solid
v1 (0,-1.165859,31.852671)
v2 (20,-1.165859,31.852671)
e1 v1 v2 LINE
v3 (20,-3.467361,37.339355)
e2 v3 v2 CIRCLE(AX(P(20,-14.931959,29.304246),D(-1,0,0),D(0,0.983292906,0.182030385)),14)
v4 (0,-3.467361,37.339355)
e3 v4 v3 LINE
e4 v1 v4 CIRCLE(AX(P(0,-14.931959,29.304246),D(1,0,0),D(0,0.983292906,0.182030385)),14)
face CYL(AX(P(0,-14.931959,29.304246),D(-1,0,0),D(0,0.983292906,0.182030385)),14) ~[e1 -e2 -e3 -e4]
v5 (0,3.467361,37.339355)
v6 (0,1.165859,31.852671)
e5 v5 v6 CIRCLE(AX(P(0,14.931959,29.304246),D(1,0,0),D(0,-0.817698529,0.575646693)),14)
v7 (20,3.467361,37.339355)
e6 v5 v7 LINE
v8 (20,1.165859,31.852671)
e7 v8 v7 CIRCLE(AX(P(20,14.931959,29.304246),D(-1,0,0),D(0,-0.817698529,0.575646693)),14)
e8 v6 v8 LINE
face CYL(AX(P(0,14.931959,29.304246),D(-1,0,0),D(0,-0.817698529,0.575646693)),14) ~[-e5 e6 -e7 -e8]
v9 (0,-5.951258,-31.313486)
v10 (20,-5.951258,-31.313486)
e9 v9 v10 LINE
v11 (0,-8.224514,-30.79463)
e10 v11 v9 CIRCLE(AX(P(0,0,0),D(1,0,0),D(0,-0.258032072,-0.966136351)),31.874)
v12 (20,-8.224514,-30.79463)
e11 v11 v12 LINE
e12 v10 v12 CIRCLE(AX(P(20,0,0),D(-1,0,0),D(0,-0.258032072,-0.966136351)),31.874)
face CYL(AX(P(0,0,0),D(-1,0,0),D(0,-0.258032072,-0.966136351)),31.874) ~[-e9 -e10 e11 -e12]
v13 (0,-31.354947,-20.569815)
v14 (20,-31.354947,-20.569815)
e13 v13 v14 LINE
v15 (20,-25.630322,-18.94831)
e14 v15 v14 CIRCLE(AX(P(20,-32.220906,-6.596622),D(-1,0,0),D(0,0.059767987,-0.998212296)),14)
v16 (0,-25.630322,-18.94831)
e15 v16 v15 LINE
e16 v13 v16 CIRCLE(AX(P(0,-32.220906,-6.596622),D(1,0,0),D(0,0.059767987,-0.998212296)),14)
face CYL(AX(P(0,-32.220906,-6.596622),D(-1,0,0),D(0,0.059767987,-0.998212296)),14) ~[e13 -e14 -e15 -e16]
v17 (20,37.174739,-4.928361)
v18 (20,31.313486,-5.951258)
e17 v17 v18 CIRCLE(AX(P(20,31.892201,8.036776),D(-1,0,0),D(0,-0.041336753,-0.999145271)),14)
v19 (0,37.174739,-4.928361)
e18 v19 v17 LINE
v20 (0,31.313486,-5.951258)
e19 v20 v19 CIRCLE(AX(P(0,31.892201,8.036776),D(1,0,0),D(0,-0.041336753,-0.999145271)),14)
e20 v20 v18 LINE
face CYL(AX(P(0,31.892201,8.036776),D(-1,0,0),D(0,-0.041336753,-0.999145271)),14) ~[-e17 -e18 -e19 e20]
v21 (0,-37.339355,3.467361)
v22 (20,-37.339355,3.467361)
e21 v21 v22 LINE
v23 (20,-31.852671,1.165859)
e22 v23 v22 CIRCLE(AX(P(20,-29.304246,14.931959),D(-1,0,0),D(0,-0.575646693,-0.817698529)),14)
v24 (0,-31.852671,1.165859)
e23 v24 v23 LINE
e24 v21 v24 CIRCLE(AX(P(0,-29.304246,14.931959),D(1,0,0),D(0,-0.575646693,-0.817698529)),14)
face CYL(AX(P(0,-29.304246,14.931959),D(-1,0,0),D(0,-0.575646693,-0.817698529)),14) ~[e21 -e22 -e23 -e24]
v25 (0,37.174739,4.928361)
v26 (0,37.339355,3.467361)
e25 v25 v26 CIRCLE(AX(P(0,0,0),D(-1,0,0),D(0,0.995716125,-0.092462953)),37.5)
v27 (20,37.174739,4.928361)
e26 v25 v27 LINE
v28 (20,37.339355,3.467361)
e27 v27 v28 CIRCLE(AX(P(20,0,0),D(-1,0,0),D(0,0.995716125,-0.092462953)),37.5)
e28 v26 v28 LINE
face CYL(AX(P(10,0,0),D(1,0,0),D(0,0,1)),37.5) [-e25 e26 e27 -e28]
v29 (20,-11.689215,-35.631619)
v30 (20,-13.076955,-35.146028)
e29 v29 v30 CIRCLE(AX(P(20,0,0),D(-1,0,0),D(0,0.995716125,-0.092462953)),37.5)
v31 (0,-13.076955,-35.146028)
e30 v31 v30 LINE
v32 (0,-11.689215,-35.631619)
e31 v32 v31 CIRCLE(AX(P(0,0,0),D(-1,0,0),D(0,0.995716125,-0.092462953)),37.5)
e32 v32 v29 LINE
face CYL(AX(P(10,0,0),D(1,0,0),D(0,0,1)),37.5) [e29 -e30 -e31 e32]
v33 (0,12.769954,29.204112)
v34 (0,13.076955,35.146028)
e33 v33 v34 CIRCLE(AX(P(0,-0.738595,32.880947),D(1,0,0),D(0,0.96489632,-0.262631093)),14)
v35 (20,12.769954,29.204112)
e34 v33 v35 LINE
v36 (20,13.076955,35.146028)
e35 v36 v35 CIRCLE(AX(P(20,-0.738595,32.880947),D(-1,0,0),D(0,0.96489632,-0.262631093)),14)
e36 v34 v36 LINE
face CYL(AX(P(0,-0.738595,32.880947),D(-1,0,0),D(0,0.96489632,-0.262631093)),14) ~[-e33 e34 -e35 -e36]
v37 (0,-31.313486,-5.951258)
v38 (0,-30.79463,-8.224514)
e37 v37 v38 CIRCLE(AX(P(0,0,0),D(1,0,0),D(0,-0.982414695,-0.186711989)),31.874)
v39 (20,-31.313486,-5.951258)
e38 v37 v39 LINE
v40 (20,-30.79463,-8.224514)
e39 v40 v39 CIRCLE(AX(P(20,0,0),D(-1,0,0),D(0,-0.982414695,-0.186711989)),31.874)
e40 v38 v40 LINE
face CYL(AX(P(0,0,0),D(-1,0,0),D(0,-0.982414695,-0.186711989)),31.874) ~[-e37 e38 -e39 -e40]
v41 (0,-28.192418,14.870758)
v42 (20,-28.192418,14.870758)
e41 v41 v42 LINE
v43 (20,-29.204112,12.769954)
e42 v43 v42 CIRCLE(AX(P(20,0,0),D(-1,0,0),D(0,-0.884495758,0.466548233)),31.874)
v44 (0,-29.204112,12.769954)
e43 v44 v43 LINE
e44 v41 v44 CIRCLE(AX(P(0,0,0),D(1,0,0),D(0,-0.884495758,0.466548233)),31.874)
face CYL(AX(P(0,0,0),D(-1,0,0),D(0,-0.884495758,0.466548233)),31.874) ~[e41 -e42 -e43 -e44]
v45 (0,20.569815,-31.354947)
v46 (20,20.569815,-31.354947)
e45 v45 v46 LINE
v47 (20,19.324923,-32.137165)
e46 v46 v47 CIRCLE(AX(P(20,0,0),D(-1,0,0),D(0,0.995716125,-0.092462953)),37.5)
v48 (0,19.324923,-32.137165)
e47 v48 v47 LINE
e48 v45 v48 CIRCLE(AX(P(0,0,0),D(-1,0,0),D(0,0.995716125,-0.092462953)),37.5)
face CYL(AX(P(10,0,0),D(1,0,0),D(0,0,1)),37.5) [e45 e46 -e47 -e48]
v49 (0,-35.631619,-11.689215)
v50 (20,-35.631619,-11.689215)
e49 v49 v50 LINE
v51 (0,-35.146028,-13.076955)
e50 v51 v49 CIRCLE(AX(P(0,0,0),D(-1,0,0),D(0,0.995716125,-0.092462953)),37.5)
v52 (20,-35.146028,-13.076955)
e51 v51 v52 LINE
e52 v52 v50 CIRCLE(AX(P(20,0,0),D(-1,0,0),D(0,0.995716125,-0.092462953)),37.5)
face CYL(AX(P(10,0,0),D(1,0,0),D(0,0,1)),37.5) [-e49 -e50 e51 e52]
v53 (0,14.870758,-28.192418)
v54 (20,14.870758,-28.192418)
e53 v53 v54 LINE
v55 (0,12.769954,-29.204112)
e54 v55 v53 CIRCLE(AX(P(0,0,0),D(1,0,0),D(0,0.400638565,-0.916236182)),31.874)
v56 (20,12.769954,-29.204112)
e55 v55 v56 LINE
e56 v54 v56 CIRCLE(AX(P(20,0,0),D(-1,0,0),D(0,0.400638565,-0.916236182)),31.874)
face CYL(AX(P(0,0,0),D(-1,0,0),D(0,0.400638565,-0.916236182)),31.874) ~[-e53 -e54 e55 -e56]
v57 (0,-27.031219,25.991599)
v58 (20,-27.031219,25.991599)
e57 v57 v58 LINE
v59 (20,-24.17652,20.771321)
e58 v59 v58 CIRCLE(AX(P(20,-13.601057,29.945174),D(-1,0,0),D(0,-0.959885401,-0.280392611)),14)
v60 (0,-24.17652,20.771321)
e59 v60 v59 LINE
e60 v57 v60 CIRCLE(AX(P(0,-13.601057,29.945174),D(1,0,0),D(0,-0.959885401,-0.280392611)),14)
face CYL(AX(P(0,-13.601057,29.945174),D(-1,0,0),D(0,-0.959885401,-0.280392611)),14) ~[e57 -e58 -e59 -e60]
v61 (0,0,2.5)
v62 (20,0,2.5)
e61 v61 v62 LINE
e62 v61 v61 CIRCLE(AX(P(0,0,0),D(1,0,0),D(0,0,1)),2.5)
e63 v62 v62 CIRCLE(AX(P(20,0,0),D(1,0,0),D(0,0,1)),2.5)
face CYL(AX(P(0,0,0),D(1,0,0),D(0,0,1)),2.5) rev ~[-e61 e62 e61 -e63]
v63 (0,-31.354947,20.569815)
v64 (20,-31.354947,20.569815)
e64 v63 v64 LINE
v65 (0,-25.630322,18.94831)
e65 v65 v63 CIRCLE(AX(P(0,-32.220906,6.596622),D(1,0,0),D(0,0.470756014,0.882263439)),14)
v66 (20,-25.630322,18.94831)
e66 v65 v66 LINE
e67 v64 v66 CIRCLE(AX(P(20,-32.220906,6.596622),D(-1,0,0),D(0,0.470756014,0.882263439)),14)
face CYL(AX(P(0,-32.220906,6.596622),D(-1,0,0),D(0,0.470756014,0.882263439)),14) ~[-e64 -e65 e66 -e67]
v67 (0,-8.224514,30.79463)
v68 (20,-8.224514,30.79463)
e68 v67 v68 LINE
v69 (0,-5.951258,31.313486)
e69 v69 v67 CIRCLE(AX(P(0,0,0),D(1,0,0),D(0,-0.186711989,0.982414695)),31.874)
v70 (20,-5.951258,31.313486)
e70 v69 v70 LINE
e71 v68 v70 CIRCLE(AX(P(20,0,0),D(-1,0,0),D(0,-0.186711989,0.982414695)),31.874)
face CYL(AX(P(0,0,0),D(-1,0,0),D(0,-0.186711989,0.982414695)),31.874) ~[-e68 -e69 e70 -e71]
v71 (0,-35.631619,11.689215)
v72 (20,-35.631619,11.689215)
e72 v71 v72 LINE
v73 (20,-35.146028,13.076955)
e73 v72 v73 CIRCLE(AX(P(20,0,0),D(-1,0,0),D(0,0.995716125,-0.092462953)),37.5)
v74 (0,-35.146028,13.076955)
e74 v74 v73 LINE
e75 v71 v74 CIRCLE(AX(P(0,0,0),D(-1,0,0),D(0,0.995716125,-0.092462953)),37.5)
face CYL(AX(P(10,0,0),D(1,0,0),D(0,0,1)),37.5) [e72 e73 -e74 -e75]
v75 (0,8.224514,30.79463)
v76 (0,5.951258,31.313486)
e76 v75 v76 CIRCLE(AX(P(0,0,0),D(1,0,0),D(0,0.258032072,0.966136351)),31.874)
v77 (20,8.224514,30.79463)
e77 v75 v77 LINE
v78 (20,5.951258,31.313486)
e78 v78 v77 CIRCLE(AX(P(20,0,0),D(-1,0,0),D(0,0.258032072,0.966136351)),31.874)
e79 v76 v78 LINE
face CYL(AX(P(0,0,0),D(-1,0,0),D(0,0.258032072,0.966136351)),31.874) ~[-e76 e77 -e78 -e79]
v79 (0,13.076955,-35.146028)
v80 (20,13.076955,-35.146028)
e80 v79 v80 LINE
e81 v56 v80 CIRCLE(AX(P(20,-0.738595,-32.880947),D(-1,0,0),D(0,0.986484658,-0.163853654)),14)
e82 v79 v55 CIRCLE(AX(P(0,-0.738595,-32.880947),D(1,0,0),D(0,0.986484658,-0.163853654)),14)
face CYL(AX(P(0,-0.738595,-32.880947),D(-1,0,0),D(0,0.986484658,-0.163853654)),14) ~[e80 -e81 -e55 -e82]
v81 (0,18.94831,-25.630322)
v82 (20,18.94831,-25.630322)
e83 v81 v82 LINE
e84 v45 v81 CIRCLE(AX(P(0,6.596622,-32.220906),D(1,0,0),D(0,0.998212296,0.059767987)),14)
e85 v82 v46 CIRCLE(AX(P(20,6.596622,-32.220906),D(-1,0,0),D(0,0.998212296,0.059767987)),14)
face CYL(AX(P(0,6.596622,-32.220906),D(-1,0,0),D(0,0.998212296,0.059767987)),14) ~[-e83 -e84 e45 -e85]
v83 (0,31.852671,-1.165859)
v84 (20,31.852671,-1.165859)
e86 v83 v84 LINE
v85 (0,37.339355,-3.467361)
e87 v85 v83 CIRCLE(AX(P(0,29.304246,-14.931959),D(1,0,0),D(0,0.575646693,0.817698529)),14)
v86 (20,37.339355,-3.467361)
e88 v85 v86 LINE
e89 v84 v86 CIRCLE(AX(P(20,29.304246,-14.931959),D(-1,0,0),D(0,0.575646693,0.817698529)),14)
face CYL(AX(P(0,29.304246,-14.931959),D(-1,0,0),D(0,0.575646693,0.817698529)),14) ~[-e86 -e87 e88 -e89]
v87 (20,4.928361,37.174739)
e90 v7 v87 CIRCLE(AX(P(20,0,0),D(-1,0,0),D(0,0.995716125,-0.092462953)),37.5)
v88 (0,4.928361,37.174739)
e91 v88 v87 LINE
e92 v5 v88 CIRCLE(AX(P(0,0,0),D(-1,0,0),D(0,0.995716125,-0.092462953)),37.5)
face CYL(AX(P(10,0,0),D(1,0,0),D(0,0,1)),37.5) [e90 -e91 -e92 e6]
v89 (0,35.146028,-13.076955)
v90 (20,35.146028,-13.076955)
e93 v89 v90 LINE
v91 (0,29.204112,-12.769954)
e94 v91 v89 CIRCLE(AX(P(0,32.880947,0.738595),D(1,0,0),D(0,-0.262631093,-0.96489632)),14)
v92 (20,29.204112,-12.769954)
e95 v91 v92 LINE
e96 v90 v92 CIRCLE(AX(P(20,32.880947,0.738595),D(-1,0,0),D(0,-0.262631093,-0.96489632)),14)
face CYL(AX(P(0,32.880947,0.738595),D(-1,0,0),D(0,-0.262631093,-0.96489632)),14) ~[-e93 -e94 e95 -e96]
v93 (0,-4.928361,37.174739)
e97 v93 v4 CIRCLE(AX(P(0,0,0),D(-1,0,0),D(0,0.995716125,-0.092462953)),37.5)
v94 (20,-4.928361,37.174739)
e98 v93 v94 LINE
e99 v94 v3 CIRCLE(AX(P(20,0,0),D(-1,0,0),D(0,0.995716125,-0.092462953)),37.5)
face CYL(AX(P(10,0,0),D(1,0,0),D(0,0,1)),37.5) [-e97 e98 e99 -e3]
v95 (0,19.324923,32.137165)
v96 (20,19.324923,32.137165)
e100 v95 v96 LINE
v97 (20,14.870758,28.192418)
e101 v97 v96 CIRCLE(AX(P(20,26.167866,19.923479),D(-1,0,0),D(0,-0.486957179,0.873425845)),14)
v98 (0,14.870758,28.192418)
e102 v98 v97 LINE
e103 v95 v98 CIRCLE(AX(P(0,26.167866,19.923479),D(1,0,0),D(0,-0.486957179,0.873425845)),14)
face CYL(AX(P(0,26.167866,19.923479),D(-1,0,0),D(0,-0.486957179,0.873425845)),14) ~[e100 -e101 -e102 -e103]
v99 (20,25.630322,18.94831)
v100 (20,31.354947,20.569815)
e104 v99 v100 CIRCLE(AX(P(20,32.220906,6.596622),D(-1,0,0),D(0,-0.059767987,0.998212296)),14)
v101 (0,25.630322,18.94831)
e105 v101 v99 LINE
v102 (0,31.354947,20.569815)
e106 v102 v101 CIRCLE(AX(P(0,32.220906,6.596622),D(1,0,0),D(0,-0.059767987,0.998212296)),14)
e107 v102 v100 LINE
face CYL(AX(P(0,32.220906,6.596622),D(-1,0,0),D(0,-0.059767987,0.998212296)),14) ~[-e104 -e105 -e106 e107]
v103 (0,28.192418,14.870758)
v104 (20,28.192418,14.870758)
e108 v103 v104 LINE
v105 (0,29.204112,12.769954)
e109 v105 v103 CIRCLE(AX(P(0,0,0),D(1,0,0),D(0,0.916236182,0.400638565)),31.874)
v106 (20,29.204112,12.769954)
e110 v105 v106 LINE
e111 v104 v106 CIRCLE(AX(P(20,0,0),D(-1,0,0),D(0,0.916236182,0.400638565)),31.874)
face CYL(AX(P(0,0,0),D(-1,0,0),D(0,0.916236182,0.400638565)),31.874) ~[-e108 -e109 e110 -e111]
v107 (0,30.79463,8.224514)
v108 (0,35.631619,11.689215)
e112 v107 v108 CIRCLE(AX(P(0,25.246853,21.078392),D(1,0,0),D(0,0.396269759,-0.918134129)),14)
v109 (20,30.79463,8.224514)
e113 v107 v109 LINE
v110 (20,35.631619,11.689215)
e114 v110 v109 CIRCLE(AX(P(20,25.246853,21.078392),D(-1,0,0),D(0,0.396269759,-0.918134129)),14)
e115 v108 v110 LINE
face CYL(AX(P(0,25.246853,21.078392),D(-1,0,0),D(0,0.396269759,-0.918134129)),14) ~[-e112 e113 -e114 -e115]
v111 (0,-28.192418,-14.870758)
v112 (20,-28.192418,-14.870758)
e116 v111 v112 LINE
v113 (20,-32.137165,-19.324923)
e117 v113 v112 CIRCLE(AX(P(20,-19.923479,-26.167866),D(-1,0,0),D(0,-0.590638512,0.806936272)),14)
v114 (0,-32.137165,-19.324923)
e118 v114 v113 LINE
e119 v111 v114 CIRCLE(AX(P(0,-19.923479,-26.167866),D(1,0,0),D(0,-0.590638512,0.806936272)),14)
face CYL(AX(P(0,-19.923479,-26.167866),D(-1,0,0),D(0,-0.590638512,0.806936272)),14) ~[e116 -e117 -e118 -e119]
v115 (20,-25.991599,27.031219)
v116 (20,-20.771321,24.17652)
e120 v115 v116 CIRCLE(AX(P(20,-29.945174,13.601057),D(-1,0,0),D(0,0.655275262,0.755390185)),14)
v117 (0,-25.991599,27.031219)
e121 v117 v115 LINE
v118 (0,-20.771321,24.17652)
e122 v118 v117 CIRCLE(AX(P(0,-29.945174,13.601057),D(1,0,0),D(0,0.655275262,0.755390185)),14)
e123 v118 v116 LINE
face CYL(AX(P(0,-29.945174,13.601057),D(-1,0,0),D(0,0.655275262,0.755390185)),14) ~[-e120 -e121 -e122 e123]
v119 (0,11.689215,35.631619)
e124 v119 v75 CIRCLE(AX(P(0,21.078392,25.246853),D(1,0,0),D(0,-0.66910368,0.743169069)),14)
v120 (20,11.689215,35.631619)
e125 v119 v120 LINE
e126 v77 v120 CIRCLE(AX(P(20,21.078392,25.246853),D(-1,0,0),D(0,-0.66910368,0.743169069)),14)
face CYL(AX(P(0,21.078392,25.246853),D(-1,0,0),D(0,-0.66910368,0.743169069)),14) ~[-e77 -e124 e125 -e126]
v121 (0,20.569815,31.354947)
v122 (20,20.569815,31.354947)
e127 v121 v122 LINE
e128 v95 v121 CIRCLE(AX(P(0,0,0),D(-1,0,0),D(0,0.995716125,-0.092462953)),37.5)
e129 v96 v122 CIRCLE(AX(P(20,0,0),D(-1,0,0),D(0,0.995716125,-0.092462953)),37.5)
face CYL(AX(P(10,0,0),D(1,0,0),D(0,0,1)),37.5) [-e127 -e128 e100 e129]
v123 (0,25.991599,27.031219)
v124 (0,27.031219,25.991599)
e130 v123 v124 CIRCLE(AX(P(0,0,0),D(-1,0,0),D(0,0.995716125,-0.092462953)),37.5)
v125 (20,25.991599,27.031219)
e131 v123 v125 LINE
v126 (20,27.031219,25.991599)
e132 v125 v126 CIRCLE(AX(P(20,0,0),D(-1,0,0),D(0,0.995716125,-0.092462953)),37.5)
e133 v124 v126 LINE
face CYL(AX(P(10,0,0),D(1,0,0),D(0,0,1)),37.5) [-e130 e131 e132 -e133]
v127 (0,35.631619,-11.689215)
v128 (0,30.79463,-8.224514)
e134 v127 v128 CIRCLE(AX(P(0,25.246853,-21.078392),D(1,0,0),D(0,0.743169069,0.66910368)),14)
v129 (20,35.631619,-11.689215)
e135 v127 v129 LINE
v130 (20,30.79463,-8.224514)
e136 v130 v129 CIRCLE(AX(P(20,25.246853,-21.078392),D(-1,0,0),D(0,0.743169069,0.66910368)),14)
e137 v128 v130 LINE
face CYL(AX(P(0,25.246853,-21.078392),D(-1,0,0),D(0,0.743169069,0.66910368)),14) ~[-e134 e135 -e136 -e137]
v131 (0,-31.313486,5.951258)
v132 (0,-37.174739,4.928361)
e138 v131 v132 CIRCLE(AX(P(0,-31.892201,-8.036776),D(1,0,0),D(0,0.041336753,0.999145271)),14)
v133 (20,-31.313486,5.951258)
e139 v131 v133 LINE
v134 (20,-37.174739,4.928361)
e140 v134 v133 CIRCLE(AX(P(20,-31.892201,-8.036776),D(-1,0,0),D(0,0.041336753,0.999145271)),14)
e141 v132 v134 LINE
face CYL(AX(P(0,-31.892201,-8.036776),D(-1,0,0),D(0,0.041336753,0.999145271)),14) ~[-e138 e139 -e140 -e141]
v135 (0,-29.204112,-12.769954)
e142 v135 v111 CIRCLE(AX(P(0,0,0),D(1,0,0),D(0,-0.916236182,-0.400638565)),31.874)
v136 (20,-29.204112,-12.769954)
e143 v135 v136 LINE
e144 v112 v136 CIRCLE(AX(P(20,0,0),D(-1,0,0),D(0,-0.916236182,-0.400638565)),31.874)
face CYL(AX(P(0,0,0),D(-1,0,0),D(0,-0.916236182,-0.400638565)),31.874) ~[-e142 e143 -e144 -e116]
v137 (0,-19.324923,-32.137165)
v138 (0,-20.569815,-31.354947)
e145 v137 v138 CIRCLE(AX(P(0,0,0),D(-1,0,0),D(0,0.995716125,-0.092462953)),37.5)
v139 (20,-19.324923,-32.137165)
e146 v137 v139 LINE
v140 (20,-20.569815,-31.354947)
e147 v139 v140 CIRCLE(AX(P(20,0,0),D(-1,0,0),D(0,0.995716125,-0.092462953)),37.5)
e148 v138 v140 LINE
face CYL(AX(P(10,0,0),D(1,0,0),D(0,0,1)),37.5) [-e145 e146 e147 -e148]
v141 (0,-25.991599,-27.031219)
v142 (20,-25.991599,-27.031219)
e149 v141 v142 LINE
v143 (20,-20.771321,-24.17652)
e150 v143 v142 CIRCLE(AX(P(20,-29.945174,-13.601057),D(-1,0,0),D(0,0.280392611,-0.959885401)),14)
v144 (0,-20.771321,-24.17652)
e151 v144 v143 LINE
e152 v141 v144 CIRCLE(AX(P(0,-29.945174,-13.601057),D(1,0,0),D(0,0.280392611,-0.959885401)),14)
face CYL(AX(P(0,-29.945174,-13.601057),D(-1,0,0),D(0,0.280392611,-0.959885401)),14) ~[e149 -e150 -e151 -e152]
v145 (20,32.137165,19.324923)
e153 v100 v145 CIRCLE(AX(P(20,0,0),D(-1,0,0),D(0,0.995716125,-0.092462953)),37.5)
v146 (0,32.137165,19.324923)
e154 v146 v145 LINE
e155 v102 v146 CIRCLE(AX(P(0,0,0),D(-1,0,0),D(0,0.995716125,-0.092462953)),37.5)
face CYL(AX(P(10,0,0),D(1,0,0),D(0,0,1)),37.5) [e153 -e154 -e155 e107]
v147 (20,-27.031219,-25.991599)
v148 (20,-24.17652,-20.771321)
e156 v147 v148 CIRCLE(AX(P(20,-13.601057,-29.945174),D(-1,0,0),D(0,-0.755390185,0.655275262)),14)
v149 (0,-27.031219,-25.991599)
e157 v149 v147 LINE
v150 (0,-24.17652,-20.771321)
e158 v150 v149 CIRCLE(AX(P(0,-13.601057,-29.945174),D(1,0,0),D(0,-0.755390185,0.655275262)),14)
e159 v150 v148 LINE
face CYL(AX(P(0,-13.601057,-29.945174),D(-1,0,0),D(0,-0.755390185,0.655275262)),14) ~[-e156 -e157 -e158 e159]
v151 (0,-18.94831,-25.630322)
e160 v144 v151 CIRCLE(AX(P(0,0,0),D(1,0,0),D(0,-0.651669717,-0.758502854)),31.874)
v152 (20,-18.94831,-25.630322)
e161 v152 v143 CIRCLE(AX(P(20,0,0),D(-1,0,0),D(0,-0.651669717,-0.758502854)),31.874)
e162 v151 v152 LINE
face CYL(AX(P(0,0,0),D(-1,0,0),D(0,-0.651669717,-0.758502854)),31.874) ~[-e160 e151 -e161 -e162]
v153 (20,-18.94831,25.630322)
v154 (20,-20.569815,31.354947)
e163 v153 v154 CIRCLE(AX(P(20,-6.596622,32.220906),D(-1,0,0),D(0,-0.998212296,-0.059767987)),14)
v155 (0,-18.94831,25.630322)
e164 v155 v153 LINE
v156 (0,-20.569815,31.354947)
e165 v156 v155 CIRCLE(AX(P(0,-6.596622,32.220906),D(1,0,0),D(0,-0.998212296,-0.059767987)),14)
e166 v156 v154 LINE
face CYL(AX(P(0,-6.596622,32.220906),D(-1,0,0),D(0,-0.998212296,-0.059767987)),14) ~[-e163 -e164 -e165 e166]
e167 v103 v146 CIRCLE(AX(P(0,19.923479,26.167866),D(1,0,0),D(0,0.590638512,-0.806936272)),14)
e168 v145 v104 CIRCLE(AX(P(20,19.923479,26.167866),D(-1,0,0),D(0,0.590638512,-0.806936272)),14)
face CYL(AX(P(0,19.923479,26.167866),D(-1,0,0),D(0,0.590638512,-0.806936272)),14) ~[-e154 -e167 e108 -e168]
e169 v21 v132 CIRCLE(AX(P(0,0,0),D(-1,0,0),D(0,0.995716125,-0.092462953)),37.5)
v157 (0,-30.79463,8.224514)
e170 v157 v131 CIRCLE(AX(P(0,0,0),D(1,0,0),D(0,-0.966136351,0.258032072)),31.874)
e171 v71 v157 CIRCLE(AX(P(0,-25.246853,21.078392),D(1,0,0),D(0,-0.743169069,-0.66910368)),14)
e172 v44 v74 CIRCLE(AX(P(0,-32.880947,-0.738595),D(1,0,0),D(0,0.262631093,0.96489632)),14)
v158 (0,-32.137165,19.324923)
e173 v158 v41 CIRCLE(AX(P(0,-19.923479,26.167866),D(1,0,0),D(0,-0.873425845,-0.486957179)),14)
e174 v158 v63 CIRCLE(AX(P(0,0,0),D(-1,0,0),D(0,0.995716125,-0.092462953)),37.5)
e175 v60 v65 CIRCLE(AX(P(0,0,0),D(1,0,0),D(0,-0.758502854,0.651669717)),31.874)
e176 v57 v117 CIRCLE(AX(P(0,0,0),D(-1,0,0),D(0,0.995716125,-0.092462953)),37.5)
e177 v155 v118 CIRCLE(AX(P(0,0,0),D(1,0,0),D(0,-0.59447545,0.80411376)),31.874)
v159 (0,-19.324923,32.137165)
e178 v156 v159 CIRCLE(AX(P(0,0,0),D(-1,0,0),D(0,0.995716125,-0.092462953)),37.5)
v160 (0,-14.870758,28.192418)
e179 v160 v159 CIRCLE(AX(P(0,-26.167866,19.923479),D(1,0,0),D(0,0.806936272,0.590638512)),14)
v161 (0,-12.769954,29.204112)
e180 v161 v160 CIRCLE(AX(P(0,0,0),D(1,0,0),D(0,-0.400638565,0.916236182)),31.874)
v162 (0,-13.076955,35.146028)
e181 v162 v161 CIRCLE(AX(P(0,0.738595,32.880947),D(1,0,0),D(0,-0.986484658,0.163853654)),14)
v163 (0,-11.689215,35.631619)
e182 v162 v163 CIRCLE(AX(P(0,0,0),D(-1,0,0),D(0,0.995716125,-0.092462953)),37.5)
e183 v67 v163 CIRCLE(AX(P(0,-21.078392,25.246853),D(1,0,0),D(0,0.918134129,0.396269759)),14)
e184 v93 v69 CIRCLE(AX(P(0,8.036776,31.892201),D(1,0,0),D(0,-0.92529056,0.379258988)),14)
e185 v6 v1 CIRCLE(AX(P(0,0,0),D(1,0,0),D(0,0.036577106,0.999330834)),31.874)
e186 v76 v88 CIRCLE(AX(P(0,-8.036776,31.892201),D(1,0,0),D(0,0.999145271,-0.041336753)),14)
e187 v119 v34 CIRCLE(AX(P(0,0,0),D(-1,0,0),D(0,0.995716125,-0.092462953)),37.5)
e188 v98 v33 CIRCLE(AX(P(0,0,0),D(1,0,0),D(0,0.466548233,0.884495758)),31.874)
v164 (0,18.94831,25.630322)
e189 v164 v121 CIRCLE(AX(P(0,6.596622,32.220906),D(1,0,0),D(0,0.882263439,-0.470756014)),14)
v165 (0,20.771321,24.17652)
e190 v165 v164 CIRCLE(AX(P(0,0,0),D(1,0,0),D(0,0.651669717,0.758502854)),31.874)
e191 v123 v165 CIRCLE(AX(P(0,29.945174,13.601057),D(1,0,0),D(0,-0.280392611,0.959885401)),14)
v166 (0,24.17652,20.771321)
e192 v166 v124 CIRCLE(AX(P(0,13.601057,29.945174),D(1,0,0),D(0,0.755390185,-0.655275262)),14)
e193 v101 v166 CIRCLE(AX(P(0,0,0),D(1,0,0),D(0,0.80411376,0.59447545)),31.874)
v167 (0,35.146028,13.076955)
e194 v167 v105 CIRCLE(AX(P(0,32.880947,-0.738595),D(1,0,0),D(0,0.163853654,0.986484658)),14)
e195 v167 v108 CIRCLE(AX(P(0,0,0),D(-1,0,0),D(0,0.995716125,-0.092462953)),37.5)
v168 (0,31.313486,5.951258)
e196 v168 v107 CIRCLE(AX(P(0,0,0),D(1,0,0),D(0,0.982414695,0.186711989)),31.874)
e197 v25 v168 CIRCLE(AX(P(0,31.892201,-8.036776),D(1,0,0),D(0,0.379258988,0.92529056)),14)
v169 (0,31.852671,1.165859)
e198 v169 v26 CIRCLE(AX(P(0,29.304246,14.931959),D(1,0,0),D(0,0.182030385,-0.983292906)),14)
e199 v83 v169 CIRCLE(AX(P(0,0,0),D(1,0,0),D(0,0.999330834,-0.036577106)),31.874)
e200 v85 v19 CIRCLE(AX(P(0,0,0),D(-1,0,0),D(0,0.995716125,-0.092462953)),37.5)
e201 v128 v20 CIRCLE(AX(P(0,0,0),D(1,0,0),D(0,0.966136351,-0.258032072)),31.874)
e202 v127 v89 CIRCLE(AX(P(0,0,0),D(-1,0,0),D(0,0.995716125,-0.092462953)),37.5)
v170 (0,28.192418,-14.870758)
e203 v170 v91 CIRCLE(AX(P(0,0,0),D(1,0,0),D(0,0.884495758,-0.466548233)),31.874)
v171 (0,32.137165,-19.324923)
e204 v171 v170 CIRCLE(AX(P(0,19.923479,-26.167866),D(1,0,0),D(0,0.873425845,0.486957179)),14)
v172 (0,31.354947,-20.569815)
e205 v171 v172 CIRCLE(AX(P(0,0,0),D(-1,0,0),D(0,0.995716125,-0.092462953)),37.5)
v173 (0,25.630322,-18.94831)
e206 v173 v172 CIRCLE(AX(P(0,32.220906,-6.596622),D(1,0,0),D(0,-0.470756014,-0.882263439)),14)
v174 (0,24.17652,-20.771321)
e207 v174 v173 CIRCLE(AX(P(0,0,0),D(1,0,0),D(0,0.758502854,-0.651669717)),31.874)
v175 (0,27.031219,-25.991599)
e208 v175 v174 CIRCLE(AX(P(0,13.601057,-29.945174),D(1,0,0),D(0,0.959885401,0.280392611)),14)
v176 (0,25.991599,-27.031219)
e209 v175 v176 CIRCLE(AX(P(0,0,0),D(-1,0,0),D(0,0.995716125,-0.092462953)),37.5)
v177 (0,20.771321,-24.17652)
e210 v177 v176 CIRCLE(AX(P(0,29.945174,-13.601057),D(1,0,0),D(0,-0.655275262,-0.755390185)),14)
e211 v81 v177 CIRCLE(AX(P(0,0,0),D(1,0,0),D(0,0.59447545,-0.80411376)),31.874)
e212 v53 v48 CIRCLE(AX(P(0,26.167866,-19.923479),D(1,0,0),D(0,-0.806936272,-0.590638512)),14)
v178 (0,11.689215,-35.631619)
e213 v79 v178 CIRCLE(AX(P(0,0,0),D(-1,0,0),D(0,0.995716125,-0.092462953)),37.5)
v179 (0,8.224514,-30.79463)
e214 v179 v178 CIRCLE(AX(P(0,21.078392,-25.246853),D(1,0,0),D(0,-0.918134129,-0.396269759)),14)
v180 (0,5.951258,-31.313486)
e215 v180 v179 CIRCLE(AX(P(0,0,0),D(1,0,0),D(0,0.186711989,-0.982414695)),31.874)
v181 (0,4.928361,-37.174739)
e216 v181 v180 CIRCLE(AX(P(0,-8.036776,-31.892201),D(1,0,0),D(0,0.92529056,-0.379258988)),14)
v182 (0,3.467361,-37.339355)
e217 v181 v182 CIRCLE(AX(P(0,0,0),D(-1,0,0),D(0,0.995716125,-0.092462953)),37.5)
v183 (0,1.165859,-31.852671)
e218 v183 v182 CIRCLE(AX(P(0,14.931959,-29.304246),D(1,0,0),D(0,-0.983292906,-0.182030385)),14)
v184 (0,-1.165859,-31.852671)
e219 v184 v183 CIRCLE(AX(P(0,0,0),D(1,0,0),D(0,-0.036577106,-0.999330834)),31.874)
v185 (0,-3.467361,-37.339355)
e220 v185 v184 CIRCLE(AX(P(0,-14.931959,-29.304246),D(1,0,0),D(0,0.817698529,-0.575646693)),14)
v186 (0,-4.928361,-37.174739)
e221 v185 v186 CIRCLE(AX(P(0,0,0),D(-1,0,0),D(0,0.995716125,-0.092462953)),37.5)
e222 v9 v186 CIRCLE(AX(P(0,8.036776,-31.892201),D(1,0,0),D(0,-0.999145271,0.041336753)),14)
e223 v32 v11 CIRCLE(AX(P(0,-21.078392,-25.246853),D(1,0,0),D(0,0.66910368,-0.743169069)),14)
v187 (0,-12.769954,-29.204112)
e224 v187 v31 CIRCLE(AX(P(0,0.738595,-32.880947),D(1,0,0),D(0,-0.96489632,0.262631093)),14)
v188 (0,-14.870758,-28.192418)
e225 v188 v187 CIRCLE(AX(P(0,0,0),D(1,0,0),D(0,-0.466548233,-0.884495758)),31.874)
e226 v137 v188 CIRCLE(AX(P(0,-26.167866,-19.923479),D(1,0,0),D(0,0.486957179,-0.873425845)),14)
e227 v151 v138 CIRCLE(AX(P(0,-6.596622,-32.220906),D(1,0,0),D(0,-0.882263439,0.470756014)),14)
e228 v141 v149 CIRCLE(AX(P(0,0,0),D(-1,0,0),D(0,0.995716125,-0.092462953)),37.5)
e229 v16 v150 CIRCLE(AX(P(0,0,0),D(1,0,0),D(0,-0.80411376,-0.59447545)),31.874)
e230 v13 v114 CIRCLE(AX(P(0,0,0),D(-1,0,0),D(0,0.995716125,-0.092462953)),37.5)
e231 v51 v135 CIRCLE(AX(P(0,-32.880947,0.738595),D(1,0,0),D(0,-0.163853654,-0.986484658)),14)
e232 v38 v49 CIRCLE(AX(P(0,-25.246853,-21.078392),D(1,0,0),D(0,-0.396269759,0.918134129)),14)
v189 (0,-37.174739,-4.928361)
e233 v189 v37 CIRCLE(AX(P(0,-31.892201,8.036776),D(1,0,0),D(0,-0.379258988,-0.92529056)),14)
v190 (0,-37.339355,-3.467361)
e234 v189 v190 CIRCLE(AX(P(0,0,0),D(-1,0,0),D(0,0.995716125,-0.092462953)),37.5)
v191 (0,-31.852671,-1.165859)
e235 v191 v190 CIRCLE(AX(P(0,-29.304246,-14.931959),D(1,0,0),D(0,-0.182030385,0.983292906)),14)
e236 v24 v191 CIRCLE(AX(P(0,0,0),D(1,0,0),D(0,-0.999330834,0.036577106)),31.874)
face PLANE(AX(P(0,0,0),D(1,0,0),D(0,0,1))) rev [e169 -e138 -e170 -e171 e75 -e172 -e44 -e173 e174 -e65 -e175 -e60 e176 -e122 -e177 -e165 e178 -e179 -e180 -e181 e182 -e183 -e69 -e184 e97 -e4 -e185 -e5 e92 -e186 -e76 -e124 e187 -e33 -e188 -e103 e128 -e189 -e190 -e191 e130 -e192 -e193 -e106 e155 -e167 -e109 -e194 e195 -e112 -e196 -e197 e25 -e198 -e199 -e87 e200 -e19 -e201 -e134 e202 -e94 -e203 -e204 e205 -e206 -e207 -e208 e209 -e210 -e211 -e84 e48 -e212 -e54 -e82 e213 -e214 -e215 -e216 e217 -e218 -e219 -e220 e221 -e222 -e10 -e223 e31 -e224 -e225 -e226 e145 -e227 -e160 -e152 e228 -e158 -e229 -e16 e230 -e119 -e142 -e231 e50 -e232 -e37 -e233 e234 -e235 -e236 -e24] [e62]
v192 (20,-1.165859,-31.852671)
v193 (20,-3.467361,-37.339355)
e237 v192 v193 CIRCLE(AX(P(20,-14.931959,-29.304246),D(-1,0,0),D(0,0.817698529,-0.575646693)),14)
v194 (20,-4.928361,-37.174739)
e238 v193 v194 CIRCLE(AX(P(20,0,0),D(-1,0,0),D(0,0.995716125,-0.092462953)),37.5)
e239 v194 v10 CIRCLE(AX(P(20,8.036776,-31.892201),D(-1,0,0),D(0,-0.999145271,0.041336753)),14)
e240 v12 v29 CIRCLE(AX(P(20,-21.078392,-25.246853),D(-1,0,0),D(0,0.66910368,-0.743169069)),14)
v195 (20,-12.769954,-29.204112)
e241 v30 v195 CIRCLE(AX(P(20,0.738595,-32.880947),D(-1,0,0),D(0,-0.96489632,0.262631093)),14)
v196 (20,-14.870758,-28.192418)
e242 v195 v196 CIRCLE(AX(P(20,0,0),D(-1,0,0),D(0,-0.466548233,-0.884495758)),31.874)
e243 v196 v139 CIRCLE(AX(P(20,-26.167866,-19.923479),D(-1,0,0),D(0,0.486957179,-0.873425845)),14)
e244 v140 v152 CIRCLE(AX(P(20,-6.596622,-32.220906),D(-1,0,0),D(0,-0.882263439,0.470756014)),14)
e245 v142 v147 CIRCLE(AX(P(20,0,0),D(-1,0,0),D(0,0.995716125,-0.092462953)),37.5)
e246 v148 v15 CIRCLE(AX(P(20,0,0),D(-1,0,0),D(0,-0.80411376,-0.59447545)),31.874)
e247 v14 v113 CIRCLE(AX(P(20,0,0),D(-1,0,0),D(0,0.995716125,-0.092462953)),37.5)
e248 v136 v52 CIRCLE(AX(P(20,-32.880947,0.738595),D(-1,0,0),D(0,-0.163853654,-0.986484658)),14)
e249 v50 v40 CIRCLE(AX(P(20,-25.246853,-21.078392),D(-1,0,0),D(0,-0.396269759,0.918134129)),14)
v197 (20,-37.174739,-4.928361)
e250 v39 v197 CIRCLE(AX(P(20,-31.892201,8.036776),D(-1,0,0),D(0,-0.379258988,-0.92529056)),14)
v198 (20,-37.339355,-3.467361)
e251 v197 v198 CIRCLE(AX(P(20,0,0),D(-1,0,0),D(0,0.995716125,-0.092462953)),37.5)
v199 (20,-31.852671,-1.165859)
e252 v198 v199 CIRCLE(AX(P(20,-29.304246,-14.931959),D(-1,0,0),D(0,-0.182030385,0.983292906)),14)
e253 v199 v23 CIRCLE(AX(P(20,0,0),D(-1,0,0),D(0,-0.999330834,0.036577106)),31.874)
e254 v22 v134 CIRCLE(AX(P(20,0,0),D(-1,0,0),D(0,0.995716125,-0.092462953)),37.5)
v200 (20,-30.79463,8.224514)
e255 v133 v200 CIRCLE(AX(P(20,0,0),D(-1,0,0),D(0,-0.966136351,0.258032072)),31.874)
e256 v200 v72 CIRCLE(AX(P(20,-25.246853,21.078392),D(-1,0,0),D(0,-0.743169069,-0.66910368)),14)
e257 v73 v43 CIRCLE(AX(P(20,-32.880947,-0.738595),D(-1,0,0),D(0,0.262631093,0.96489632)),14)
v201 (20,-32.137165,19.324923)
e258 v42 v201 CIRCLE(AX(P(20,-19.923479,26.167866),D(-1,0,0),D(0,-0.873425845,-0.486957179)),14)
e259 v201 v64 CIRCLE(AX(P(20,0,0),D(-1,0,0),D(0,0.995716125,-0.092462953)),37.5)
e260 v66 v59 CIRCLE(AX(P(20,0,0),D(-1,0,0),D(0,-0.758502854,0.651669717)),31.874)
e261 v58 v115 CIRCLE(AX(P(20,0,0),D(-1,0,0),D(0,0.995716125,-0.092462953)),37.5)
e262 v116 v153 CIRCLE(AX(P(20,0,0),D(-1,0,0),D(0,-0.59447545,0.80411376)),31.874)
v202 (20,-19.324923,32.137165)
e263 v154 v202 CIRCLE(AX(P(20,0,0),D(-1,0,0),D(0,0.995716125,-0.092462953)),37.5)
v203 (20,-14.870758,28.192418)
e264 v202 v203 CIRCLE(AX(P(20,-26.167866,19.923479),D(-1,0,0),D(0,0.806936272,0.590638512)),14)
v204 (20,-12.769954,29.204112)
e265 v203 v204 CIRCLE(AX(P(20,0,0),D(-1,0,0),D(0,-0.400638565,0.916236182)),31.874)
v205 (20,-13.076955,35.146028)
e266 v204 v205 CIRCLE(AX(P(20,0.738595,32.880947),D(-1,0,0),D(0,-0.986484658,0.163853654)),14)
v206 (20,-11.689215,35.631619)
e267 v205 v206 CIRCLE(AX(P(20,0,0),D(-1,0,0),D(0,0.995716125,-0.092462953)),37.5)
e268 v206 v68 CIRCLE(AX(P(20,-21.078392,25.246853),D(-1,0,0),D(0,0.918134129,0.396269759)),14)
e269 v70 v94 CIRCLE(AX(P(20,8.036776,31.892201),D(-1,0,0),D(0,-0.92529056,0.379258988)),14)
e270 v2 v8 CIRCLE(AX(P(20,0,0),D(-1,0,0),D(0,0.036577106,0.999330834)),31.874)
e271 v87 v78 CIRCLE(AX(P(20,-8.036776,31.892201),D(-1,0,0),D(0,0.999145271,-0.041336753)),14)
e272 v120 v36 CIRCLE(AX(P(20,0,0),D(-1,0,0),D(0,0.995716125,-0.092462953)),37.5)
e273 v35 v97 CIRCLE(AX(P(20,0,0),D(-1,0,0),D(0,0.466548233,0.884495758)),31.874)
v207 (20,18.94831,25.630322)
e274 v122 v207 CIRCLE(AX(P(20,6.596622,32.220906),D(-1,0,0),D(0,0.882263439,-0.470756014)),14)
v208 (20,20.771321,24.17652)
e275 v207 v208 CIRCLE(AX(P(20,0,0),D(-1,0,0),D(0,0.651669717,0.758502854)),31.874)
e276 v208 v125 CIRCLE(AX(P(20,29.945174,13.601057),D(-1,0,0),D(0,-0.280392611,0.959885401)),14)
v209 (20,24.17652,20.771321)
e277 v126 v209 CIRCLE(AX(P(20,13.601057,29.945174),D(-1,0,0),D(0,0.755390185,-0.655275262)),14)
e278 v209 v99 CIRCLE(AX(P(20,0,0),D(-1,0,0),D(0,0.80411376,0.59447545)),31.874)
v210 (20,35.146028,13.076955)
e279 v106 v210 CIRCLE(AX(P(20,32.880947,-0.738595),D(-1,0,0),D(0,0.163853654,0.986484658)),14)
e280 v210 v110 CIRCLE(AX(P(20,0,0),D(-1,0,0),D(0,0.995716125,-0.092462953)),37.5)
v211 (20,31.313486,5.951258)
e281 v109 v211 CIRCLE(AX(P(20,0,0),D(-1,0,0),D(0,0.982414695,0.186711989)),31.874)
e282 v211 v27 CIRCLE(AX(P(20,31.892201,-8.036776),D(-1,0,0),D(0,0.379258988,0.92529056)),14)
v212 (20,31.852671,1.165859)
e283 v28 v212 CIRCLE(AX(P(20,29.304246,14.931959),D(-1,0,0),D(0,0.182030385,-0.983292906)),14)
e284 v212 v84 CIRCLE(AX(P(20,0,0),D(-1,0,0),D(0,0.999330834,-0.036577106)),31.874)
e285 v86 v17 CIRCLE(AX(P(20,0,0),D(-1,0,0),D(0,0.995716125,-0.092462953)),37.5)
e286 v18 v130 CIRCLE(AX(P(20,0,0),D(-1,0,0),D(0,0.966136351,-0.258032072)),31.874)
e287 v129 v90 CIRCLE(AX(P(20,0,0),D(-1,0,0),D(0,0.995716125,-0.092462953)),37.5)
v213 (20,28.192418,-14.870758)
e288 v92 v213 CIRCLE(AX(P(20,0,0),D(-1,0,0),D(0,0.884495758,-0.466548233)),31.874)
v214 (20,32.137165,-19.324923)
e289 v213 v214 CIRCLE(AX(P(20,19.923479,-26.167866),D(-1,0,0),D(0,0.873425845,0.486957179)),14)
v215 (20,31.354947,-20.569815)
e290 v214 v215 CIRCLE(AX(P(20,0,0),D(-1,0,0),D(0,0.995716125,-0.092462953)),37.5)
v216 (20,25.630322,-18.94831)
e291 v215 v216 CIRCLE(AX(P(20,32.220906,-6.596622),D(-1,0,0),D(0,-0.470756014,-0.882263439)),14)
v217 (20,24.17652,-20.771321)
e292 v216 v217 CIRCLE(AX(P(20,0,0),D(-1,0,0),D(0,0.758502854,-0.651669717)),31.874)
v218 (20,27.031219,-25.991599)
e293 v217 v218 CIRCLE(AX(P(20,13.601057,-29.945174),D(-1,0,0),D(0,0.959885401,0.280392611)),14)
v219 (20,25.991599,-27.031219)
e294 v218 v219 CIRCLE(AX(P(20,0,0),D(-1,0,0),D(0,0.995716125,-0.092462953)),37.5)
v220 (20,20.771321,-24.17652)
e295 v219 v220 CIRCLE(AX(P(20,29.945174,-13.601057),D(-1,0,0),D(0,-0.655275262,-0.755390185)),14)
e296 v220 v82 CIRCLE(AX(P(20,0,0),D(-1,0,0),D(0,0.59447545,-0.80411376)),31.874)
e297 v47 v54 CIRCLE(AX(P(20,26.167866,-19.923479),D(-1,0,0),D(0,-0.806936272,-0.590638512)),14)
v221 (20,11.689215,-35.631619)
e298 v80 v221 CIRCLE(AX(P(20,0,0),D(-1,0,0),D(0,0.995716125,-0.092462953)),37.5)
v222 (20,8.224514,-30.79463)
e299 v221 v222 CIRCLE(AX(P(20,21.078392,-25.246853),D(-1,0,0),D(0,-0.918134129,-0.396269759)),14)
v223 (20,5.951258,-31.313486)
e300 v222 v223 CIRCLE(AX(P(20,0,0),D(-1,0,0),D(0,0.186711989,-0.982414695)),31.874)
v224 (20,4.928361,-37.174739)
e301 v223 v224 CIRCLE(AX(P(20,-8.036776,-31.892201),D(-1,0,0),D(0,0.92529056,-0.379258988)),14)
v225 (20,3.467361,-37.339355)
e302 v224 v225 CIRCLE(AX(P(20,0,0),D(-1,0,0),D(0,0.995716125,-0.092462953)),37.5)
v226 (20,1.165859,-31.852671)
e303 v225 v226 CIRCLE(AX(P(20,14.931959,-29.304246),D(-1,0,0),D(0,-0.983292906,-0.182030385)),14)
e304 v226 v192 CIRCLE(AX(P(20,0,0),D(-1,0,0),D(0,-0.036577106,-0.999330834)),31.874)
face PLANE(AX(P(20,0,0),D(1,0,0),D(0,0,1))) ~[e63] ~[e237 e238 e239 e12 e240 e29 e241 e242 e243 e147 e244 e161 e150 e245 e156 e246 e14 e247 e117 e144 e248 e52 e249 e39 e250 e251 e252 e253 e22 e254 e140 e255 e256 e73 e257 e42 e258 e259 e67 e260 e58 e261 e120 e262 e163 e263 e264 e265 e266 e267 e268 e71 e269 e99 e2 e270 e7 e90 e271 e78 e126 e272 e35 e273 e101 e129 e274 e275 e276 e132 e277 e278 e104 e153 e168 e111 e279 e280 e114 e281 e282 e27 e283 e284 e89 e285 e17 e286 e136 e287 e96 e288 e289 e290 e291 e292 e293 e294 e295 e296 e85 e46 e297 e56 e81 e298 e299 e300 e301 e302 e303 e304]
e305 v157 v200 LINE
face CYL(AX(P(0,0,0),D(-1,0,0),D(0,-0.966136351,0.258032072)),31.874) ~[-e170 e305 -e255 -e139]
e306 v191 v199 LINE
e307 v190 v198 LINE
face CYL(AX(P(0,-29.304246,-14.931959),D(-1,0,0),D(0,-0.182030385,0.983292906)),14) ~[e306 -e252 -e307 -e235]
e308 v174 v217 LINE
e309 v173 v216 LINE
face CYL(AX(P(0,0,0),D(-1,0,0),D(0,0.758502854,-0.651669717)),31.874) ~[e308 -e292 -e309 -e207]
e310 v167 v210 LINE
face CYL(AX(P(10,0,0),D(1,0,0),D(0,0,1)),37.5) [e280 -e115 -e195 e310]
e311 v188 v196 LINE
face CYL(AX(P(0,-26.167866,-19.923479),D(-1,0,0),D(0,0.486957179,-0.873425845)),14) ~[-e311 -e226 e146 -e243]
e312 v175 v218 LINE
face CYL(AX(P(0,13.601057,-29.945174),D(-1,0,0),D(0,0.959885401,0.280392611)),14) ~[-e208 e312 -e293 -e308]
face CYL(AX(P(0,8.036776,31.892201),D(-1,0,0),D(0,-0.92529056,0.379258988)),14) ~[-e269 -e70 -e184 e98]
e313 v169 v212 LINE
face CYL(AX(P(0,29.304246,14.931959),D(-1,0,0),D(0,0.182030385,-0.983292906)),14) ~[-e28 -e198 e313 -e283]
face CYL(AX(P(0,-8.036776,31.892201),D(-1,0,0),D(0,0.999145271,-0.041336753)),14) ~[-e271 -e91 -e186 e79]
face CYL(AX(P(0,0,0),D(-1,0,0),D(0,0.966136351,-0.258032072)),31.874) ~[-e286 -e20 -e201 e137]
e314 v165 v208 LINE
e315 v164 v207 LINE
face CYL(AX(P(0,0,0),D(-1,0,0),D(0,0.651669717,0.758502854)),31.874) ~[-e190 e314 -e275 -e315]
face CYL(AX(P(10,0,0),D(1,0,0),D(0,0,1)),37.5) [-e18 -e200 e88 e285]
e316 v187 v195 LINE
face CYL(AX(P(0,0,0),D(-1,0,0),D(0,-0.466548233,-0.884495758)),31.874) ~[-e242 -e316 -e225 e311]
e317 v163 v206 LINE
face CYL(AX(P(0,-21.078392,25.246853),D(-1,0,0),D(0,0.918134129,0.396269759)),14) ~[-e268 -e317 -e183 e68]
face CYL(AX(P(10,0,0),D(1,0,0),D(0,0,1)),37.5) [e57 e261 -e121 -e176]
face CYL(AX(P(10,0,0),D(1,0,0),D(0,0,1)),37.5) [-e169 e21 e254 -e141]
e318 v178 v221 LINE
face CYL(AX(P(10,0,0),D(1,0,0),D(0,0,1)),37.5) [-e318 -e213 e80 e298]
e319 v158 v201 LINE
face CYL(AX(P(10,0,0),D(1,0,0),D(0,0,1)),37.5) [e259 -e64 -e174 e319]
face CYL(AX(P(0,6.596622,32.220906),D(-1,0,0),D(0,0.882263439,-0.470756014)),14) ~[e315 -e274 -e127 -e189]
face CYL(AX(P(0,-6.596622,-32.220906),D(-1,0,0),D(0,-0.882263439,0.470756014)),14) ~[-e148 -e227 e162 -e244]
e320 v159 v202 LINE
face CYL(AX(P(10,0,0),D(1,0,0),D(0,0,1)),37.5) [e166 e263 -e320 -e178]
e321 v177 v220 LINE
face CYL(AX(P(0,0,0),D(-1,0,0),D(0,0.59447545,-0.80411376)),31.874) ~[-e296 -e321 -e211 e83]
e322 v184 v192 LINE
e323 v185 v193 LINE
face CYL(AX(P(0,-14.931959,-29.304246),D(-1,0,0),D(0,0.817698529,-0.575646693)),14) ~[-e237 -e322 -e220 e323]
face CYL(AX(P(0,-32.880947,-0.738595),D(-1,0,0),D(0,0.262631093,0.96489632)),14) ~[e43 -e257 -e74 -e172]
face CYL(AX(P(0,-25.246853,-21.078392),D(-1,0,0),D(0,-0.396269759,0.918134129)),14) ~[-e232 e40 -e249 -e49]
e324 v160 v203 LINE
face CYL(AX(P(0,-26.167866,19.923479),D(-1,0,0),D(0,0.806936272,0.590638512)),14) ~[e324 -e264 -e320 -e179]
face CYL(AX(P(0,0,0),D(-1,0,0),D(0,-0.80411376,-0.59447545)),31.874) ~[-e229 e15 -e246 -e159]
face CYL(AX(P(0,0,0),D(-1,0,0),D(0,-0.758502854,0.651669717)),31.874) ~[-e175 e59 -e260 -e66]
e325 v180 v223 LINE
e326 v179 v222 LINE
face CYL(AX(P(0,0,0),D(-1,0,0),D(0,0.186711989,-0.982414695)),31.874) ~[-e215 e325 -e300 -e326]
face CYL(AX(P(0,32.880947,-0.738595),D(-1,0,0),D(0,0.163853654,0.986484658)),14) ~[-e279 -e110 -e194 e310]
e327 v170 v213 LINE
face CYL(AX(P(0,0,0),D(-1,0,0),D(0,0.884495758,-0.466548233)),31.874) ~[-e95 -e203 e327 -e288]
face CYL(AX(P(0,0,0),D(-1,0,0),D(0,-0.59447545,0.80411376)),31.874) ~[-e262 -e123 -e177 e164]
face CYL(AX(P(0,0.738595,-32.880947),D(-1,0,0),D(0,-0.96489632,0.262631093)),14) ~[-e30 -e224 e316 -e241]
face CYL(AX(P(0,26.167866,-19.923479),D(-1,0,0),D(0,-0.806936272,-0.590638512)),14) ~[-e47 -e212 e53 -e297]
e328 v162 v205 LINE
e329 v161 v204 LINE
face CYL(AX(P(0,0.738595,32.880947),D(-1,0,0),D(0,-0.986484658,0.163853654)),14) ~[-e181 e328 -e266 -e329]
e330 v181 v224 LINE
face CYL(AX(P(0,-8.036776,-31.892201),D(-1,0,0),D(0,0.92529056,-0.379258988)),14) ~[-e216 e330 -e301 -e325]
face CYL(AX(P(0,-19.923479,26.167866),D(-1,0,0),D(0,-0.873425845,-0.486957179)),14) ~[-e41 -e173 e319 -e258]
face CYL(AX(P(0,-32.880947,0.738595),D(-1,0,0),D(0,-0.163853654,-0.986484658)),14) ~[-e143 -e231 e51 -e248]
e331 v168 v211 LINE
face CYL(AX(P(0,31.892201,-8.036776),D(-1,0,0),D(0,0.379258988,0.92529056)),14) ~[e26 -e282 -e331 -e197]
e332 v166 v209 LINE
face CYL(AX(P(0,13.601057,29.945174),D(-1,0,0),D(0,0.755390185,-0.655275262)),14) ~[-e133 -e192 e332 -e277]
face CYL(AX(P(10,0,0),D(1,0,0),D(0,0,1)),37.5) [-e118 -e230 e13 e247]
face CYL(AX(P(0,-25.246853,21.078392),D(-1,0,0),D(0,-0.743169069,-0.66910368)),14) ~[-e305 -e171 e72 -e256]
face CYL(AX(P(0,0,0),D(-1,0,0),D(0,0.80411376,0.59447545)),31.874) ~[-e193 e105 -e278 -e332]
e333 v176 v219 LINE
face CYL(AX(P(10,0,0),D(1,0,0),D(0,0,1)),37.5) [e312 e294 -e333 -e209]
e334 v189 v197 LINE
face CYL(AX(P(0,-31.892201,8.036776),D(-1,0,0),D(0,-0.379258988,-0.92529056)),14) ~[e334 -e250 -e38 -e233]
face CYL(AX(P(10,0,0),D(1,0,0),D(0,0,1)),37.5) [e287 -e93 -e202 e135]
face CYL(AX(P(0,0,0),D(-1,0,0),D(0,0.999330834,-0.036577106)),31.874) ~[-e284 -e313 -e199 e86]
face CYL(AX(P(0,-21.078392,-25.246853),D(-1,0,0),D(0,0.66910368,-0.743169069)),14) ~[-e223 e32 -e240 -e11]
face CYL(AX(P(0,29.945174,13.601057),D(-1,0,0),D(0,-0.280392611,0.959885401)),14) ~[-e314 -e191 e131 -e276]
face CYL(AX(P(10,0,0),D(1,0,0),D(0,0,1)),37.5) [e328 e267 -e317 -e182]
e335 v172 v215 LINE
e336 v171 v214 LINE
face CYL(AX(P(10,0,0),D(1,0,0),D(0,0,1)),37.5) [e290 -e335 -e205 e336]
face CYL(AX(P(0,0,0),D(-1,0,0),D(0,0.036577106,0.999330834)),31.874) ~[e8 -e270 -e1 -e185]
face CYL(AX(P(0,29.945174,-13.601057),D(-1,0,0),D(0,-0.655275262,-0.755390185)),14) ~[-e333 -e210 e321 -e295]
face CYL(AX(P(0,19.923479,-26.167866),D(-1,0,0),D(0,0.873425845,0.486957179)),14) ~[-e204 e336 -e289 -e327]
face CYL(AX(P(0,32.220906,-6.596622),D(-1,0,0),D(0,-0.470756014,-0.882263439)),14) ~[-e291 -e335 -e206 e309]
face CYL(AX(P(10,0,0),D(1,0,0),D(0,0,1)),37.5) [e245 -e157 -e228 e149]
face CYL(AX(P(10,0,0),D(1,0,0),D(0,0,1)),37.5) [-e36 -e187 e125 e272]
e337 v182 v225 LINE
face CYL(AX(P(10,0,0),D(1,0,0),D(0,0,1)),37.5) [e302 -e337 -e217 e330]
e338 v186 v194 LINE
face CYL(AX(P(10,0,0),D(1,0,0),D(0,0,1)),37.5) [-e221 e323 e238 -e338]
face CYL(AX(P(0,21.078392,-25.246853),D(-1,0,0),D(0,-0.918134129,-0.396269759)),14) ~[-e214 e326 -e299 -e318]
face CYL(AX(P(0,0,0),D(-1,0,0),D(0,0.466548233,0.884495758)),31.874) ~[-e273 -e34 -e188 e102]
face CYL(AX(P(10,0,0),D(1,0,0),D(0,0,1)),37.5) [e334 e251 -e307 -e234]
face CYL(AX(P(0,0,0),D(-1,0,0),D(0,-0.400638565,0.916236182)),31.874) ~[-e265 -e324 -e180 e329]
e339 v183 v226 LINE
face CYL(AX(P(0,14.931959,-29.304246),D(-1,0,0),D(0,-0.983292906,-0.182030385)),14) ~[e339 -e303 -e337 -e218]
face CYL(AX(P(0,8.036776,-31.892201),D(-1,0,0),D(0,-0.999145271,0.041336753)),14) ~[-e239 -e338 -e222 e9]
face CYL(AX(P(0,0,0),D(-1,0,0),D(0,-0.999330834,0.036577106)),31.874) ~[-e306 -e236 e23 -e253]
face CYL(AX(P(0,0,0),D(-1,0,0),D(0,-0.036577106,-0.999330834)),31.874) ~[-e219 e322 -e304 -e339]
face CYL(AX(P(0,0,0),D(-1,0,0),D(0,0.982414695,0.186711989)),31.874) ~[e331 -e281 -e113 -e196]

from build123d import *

# Parameters (mm, degrees)
BASPROSKE_W     = 20
BASPROSKE_H     = 37.5
TOOTHCUT_DEPTH  = 57.678920244
TEETHCUTS_COUNT = 28
TEETHCUTS_ANGLE = 347.142857143
BORSKE_R        = 2.5
BORE_DEPTH      = 50.0000508


with BuildPart() as part:
    # BasProSke → Base-Revolve (revolve)
    with BuildSketch(Plane(origin=(0, 0, 0), x_dir=(1, 0, 0), z_dir=(0, 1, 0)), mode=Mode.PRIVATE) as base_revolve_sk:
        with Locations((10, 18.75)):
            Rectangle(BASPROSKE_W, BASPROSKE_H)
    revolve(base_revolve_sk.sketch.rotate(Axis((-10, 0, 0), (1, 0, 0)), 180), axis=Axis((-10, 0, 0), (1, 0, 0)))

    # TooCutSke → ToothCut (cut, through all)
    with BuildSketch(Plane(origin=(0, 0, 0), x_dir=(0, 0, -1), z_dir=(1, 0, 0))):
        with BuildLine():
            ThreePointArc((1.165858694, 31.852670995), (0, 31.874), (-1.165858694, 31.852670995))
            ThreePointArc((-1.165858694, 31.852670995), (-2.027437167, 34.733177963), (-3.484179965, 37.363299307))
            ThreePointArc((-3.484179965, 37.363299307), (0, 37.5254), (3.484179965, 37.363299307))
            ThreePointArc((3.484179965, 37.363299307), (2.027437167, 34.733177963), (1.165858694, 31.852670995))
        make_face()
    toothcut = extrude(amount=TOOTHCUT_DEPTH, mode=Mode.SUBTRACT)

    # TeethCuts: ToothCut ×28 about axis
    teethcuts_axis = Axis((-10, 0, 0), (1, 0, 0))
    for i in range(1, TEETHCUTS_COUNT):
        add(toothcut.rotate(teethcuts_axis, i * TEETHCUTS_ANGLE / (TEETHCUTS_COUNT - 1)), mode=Mode.SUBTRACT)

    # BorSke → Bore (cut, symmetric)
    with BuildSketch(Plane(origin=(0, 0, 0), x_dir=(0, 0, -1), z_dir=(1, 0, 0))):
        with Locations(Location((0, 0, 0), (0, 0, 180))):
            Circle(BORSKE_R)
    extrude(amount=BORE_DEPTH, both=True, mode=Mode.SUBTRACT)


solid = part.part
